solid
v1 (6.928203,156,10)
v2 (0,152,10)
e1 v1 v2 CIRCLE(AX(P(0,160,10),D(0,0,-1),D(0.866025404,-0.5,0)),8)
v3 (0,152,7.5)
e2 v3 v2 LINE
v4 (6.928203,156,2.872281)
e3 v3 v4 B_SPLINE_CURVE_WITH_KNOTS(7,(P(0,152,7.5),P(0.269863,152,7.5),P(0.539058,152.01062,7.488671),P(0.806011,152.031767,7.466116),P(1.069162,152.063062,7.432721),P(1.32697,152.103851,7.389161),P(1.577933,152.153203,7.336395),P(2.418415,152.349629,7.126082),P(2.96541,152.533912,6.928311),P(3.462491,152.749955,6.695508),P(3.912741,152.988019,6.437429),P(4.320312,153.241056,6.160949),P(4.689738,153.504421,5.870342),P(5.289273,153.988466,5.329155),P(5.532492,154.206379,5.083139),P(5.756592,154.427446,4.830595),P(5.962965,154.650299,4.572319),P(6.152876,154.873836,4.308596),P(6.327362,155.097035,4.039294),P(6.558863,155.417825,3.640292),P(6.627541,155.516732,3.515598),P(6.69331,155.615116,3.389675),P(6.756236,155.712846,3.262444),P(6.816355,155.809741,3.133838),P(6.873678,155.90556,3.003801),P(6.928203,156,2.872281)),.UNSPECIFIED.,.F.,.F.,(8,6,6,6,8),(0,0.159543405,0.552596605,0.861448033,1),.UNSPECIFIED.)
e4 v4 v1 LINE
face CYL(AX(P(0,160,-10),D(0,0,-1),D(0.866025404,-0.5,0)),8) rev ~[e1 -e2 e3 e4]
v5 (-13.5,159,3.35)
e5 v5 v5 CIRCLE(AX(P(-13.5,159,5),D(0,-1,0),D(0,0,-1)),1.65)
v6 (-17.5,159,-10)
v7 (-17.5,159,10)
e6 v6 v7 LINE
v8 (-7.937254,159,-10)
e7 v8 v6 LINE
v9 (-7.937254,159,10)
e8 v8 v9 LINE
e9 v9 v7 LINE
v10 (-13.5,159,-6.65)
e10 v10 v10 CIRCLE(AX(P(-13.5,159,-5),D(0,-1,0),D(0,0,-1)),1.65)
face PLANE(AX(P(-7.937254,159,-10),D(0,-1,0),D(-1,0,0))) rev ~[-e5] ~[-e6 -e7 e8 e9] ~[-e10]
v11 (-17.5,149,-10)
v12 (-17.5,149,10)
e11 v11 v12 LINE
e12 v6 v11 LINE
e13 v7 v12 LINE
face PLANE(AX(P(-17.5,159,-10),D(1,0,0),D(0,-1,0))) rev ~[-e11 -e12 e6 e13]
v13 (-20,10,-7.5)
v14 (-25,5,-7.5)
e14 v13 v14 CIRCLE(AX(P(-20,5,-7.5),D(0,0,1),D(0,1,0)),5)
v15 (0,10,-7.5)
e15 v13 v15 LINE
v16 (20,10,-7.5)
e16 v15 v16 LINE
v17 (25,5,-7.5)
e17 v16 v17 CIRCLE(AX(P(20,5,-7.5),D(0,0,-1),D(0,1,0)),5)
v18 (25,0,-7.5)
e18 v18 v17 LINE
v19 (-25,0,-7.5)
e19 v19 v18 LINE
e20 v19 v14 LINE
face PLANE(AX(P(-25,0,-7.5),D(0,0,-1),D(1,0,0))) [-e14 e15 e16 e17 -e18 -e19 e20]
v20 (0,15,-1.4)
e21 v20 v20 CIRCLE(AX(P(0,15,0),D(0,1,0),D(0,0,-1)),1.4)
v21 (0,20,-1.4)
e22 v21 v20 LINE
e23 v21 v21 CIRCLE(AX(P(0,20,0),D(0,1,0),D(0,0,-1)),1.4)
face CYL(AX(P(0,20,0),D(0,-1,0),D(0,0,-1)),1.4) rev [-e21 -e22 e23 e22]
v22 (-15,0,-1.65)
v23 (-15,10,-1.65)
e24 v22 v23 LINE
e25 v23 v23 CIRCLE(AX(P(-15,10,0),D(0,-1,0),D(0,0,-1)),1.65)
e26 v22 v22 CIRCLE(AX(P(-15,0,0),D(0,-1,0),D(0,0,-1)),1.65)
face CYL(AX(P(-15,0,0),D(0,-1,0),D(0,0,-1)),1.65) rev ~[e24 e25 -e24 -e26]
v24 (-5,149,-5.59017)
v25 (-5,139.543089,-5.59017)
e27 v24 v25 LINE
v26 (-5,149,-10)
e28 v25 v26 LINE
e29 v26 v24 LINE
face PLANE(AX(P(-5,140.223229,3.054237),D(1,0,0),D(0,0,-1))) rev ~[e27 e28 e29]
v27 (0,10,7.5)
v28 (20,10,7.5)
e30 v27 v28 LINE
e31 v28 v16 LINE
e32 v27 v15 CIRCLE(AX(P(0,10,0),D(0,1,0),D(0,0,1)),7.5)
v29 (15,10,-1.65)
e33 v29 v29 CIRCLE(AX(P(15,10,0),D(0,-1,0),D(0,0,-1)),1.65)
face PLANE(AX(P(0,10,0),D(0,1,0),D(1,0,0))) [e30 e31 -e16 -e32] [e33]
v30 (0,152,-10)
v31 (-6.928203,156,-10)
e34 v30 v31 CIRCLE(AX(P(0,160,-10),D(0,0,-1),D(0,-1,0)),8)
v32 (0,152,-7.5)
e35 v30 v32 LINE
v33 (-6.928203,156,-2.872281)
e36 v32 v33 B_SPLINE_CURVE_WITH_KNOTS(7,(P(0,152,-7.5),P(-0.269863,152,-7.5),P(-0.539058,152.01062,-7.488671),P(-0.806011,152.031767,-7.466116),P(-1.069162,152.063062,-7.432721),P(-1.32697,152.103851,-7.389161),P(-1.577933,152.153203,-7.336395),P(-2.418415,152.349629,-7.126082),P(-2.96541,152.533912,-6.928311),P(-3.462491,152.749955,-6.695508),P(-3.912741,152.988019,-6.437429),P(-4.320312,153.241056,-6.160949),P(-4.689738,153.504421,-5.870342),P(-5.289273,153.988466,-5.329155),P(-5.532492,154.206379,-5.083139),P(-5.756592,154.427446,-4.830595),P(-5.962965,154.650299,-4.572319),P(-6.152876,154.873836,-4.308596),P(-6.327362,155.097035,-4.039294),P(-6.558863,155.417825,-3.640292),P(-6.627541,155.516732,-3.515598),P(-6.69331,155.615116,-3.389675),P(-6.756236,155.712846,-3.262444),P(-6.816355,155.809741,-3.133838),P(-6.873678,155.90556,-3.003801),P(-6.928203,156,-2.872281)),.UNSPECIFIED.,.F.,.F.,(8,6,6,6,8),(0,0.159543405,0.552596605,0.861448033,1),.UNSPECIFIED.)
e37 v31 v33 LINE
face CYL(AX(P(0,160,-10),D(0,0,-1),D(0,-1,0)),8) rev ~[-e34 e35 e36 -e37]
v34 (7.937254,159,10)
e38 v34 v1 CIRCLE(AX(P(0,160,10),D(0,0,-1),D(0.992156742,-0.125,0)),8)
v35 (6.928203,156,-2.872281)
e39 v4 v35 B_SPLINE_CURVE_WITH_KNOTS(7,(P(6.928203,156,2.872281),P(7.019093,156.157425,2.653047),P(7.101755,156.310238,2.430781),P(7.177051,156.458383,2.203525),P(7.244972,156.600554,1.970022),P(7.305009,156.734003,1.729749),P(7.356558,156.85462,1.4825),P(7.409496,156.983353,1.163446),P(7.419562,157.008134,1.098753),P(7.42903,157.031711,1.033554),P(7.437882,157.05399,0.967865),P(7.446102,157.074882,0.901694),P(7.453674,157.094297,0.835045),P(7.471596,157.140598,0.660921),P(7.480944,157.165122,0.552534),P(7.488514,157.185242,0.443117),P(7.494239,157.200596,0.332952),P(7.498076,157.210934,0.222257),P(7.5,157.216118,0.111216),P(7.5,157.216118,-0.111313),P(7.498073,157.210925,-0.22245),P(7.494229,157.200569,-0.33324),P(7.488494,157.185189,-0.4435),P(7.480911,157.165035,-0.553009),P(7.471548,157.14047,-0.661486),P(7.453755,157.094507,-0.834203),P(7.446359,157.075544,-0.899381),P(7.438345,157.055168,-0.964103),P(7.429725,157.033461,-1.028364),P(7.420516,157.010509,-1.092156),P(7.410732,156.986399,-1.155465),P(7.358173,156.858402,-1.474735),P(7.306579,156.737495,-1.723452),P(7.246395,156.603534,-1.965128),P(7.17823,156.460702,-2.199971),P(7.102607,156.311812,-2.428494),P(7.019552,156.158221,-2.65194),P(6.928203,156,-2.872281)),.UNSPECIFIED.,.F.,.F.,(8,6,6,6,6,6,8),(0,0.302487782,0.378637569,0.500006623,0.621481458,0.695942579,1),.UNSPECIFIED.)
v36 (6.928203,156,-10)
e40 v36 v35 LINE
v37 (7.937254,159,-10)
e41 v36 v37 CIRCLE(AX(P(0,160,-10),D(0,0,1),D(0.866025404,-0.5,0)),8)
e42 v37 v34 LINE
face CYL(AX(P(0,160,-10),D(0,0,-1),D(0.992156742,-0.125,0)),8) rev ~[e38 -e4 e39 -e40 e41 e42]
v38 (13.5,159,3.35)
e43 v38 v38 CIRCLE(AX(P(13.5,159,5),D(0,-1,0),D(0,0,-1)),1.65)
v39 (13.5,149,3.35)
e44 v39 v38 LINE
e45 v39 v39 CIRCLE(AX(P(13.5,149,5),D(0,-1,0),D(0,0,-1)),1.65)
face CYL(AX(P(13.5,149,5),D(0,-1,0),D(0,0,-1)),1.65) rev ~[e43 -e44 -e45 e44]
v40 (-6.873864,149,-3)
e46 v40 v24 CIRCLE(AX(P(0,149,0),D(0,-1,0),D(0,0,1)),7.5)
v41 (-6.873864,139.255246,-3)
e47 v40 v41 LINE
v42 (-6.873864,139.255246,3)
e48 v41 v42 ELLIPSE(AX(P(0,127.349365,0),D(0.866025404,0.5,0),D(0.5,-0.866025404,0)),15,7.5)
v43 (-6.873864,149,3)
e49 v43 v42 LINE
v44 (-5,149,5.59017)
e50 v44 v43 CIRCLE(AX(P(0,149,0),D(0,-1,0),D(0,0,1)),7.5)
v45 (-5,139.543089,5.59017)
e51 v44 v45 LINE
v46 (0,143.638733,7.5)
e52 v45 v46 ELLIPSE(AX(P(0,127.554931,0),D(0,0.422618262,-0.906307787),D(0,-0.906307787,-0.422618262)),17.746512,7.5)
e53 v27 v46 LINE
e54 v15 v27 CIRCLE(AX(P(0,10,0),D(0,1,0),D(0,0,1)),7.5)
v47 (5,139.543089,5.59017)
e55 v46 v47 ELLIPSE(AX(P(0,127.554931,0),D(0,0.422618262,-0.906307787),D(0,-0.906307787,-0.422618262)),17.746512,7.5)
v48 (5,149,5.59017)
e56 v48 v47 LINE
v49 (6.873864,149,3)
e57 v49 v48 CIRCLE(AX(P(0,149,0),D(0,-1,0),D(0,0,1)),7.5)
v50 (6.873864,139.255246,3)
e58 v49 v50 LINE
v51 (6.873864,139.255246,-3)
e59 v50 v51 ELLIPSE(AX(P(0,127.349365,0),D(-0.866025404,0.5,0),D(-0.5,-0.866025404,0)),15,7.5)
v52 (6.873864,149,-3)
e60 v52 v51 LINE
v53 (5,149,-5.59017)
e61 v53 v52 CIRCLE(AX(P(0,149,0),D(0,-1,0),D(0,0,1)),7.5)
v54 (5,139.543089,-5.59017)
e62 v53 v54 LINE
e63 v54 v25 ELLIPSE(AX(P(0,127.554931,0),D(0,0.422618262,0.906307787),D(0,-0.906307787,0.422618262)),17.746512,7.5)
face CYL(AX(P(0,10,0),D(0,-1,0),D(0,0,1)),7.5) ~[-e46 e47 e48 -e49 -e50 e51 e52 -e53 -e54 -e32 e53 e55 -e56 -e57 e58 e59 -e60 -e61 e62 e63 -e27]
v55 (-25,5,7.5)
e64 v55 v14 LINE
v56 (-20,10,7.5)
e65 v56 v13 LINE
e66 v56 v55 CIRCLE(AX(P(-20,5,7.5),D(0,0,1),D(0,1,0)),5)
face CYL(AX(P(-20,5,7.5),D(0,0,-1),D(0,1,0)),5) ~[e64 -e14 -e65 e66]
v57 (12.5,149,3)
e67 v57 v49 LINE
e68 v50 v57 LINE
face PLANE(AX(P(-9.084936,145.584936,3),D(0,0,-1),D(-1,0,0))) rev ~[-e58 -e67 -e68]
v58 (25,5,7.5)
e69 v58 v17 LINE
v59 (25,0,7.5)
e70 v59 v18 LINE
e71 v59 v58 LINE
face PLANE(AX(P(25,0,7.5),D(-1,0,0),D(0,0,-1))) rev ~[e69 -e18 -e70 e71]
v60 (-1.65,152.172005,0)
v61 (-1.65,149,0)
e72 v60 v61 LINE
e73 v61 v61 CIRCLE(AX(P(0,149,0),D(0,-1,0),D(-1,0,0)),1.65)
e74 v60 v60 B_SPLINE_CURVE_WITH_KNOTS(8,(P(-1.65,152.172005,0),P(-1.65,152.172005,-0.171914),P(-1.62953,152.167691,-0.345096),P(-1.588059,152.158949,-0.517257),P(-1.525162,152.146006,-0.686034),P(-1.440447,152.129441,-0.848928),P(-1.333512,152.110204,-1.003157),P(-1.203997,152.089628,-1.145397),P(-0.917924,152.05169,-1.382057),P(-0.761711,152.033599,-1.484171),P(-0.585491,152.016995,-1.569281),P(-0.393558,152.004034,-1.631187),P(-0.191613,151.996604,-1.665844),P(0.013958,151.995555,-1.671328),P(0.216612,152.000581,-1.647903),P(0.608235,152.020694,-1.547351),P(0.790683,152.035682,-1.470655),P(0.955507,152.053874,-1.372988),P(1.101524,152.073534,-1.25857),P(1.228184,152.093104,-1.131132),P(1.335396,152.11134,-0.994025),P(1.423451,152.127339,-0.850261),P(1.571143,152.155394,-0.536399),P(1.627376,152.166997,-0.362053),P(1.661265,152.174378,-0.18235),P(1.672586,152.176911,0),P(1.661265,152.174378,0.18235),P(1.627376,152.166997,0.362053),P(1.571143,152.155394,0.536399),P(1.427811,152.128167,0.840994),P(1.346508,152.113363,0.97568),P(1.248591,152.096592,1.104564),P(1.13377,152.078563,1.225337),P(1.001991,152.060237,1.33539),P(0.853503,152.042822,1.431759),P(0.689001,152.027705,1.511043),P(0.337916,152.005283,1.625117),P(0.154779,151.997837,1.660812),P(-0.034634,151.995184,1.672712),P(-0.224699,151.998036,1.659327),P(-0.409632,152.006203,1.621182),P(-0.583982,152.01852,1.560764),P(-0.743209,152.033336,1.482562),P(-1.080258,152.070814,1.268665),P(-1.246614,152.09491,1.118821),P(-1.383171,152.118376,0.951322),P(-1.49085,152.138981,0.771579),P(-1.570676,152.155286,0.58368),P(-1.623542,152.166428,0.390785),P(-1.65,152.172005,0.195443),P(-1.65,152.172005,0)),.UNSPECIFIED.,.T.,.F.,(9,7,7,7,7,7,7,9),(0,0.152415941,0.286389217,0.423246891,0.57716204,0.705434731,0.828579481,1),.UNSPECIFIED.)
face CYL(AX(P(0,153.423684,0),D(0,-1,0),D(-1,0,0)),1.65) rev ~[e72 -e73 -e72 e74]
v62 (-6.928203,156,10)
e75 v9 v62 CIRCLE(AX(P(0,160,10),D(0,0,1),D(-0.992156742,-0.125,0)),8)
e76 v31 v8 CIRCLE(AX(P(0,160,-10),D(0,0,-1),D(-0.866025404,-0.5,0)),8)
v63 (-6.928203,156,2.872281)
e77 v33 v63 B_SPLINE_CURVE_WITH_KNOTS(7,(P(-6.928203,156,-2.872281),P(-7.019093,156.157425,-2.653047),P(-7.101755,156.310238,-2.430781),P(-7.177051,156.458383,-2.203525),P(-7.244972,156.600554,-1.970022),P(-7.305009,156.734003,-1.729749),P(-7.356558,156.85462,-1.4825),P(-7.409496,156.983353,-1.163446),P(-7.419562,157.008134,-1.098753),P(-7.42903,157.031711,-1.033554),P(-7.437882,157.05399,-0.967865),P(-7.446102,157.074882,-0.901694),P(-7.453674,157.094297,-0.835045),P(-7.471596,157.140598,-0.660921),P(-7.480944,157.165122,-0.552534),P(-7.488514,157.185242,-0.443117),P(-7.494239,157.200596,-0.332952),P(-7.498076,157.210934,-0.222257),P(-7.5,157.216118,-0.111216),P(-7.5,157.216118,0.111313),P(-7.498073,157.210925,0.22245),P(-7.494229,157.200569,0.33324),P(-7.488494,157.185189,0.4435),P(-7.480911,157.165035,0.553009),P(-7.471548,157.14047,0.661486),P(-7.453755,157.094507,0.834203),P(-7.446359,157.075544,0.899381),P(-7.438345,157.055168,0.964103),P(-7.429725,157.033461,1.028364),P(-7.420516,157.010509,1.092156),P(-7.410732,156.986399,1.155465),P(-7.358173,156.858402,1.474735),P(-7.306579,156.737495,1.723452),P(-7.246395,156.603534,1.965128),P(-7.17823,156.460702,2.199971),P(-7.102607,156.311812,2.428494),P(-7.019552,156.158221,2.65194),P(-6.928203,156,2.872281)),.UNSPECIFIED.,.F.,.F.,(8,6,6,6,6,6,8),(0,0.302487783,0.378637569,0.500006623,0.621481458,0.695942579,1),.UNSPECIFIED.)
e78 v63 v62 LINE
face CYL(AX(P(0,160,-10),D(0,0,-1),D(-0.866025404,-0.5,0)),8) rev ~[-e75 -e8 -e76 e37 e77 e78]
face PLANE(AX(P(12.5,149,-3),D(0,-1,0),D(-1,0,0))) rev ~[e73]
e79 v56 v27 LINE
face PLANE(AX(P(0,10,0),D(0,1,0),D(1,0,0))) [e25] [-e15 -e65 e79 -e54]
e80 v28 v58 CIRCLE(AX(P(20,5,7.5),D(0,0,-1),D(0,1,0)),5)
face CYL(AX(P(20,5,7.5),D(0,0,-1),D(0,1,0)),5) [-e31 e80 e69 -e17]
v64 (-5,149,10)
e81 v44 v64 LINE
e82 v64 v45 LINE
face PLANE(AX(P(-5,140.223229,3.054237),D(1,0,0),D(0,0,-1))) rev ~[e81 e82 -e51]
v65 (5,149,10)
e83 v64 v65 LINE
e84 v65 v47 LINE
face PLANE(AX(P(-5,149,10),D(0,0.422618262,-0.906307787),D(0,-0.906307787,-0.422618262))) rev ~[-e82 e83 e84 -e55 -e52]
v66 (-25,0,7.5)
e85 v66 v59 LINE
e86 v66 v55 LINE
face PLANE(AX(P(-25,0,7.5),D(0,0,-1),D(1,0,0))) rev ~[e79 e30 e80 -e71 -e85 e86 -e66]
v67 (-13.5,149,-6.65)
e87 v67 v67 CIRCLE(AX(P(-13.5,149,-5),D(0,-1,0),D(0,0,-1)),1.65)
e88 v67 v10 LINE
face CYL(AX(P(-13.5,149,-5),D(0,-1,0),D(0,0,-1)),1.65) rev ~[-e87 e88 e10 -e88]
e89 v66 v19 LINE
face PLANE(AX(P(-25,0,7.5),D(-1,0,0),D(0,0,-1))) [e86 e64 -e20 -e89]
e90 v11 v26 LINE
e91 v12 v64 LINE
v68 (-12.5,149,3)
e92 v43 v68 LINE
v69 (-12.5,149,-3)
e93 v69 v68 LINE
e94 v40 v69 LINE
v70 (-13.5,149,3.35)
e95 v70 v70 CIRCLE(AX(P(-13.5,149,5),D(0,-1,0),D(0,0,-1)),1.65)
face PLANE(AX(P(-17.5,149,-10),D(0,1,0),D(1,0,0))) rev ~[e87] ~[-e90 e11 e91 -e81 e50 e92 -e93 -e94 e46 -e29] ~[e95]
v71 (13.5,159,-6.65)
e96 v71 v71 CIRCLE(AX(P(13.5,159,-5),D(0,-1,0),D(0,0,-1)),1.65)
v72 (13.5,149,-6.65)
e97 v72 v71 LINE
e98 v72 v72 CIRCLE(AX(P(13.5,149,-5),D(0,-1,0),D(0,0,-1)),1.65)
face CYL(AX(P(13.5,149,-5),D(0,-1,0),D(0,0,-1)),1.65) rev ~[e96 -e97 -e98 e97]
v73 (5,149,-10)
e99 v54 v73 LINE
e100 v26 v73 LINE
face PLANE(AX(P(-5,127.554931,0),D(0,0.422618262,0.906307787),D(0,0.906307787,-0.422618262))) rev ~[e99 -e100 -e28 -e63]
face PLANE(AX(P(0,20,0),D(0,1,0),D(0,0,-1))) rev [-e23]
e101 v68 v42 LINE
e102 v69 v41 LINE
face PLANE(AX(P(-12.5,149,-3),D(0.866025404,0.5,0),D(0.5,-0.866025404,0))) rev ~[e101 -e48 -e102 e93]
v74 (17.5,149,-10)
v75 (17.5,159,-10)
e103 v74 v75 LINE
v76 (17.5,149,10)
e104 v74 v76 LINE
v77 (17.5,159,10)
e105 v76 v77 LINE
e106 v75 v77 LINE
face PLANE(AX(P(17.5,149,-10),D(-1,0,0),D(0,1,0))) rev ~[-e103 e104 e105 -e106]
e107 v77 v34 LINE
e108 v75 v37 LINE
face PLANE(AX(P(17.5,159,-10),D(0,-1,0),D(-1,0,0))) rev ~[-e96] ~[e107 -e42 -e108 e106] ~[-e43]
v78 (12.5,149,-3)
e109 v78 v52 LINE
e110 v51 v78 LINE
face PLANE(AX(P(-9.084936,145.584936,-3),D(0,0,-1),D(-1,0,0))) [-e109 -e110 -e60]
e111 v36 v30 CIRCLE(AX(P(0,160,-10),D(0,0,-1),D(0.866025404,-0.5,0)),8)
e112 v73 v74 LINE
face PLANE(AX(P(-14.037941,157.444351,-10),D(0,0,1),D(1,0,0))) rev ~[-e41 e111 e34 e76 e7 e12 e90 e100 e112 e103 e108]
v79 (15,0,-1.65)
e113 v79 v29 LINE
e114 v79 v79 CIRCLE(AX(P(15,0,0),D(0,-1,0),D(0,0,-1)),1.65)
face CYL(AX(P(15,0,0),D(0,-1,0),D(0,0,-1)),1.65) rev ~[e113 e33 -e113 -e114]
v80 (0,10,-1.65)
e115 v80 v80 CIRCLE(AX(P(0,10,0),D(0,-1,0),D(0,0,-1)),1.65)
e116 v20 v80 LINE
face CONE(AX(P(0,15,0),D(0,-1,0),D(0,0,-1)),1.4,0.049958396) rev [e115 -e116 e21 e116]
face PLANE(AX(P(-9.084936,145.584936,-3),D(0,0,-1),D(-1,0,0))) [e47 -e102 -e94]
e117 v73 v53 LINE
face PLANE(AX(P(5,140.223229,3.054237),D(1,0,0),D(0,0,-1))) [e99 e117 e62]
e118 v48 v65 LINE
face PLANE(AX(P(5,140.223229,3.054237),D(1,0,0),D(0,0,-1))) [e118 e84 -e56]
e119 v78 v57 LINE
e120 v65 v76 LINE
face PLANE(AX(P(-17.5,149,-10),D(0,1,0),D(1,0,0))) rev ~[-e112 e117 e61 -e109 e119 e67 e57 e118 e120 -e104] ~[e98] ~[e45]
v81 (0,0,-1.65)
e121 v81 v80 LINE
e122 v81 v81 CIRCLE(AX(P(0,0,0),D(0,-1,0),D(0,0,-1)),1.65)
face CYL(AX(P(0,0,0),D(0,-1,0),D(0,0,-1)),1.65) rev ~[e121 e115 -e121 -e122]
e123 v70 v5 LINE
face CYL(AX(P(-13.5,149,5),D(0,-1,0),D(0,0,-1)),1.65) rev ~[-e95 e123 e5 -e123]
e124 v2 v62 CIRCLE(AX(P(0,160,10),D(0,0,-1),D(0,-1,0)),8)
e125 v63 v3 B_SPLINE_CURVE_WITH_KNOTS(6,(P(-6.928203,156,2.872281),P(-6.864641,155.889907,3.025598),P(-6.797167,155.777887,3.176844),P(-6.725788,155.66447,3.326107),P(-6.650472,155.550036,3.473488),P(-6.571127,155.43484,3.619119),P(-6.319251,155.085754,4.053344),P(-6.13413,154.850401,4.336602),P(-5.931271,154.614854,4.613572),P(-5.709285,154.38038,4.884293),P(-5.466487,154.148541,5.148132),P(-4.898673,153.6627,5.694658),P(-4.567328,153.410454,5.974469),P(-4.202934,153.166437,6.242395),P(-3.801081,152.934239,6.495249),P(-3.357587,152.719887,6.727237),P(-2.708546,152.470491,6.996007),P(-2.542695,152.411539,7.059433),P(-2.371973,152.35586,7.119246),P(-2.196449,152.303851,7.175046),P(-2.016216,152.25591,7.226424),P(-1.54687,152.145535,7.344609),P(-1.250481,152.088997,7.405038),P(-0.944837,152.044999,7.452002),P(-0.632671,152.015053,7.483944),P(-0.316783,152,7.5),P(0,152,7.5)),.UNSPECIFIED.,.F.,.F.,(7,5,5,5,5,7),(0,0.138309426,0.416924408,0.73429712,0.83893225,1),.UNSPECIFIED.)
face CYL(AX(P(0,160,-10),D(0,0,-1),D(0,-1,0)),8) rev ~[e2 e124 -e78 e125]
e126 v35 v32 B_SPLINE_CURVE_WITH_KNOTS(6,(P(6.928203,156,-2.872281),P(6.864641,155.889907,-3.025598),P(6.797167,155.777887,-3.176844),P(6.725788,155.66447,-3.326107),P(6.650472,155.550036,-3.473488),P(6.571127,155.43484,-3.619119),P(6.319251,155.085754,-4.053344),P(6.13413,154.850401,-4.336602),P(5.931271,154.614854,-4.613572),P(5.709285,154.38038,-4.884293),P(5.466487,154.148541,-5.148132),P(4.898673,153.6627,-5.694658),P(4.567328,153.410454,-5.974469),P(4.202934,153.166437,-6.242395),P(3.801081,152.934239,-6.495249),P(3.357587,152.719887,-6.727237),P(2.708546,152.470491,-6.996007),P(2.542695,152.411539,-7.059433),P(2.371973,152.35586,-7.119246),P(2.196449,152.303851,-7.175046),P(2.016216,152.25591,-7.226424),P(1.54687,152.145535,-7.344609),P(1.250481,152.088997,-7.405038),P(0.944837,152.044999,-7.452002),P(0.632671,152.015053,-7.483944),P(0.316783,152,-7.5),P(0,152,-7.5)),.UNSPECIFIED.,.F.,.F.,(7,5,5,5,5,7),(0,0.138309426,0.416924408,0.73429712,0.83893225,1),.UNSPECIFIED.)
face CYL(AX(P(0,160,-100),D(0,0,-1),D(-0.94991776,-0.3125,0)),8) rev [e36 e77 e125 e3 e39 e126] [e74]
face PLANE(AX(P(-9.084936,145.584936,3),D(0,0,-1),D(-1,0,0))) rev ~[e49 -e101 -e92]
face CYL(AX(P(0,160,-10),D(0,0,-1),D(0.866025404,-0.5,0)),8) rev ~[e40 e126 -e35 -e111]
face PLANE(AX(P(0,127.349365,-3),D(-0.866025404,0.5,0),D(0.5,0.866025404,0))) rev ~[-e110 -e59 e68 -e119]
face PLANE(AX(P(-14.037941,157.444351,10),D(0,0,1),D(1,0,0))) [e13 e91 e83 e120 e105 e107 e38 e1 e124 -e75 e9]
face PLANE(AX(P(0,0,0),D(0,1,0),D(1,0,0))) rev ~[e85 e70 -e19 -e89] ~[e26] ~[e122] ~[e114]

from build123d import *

# Parameters (mm, degrees)
SKETCH_1_W               = 50
SKETCH_1_H               = 15
EXTRUDE_1_DEPTH          = 10
SKETCH_2_R               = 7.5
EXTRUDE_2_DEPTH          = 150
EXTRUDE_3_DEPTH          = 10
EXTRUDE_3_DEPTH_BACK     = 10
CUT_EXTRUDE_2_DEPTH      = 100
CUT_EXTRUDE_2_DEPTH_BACK = 100
SKETCH_5_R               = 1.65
CUT_EXTRUDE_3_DEPTH      = 10
FILLET_1_R               = 5
SKETCH_7_R               = 1.65
CUT_EXTRUDE_4_DEPTH      = 10
EXTRUDE_6_DEPTH          = 3
EXTRUDE_6_DEPTH_BACK     = 3
EXTRUDE_7_DEPTH          = 5
EXTRUDE_7_DEPTH_BACK     = 5


with BuildPart() as part:
    # 草图1 → 凸台-拉伸1 (new body)
    with BuildSketch(Plane(origin=(0, 0, 0), x_dir=(1, 0, 0), z_dir=(0, 1, 0))):
        Rectangle(SKETCH_1_W, SKETCH_1_H)
    extrude(amount=EXTRUDE_1_DEPTH)

    # 草图2 → 凸台-拉伸2 (add)
    with BuildSketch(Plane(origin=(0, 10, 0), x_dir=(1, 0, 0), z_dir=(0, 1, 0))):
        with Locations(Location((0, 0, 0), (0, 0, 270))):
            Circle(SKETCH_2_R)
    extrude(amount=EXTRUDE_2_DEPTH)

    # 草图3 → 凸台-拉伸3 (add, two sides: drawn at the far end of the back side and taken through both)
    with BuildSketch(Plane.XY.offset(-EXTRUDE_3_DEPTH_BACK)):
        with BuildLine():
            ThreePointArc((-10.246950766, 156), (-10.706300052, 157.4750962), (-10.95445115, 159))
            Line((-10.95445115, 159), (-17.5, 159))
            Line((-17.5, 159), (-17.5, 156))
            Line((-17.5, 156), (-10.246950766, 156))
        make_face()
        with BuildLine():
            ThreePointArc((-6.92820323, 156), (-7.582575695, 157.449598888), (-7.937253933, 159))
            Line((-7.937253933, 159), (-10.95445115, 159))
            ThreePointArc((-10.95445115, 159), (-10.706300052, 157.4750962), (-10.246950766, 156))
            Line((-10.246950766, 156), (-6.92820323, 156))
        make_face()
        with BuildLine():
            Line((10.95445115, 159), (7.937253933, 159))
            ThreePointArc((7.937253933, 159), (7.582575695, 157.449598888), (6.92820323, 156))
            Line((6.92820323, 156), (10.246950766, 156))
            ThreePointArc((10.246950766, 156), (10.706300052, 157.4750962), (10.95445115, 159))
        make_face()
        with BuildLine():
            ThreePointArc((6.92820323, 156), (4, 153.07179677), (0, 152))
            Line((0, 152), (0, 149))
            ThreePointArc((0, 149), (6.204836823, 150.917048938), (10.246950766, 156))
            Line((10.246950766, 156), (6.92820323, 156))
        make_face()
        with BuildLine():
            Line((0, 149), (0, 152))
            ThreePointArc((0, 152), (-4, 153.07179677), (-6.92820323, 156))
            Line((-6.92820323, 156), (-10.246950766, 156))
            ThreePointArc((-10.246950766, 156), (-6.204836823, 150.917048938), (0, 149))
        make_face()
        with BuildLine():
            Line((17.5, 159), (10.95445115, 159))
            ThreePointArc((10.95445115, 159), (10.706300052, 157.4750962), (10.246950766, 156))
            Line((10.246950766, 156), (17.5, 156))
            Line((17.5, 156), (17.5, 159))
        make_face()
        with BuildLine():
            Line((-17.5, 149), (0, 149))
            ThreePointArc((0, 149), (-6.204836823, 150.917048938), (-10.246950766, 156))
            Line((-10.246950766, 156), (-17.5, 156))
            Line((-17.5, 156), (-17.5, 149))
        make_face()
        with BuildLine():
            ThreePointArc((10.246950766, 156), (6.204836823, 150.917048938), (0, 149))
            Line((0, 149), (17.5, 149))
            Line((17.5, 149), (17.5, 156))
            Line((17.5, 156), (10.246950766, 156))
        make_face()
    extrude(amount=EXTRUDE_3_DEPTH + EXTRUDE_3_DEPTH_BACK)

    # 草图4 → 切除-拉伸2 (cut, two sides: drawn at the far end of the back side and taken through both)
    with BuildSketch(Plane.XY.offset(-CUT_EXTRUDE_2_DEPTH_BACK)):
        with BuildLine():
            Line((8, 160), (-8, 160))
            ThreePointArc((-8, 160), (-7.899200485, 158.734049095), (-7.599342077, 157.5))
            Line((-7.599342077, 157.5), (7.599342077, 157.5))
            ThreePointArc((7.599342077, 157.5), (7.899200485, 158.734049095), (8, 160))
        make_face()
        with BuildLine():
            Line((7.599342077, 157.5), (-7.599342077, 157.5))
            ThreePointArc((-7.599342077, 157.5), (0, 152), (7.599342077, 157.5))
        make_face()
    extrude(amount=CUT_EXTRUDE_2_DEPTH + CUT_EXTRUDE_2_DEPTH_BACK, mode=Mode.SUBTRACT)

    # 草图5 → 切除-拉伸3 (cut)
    with BuildSketch(Plane.XZ):
        with Locations(Location((0, 0, 0), (0, 0, 270))):
            Circle(SKETCH_5_R)
        with Locations(Location((-15, 0, 0), (0, 0, 270))):
            Circle(SKETCH_5_R)
        with Locations(Location((15, 0, 0), (0, 0, 270))):
            Circle(SKETCH_5_R)
    extrude(amount=-CUT_EXTRUDE_3_DEPTH, mode=Mode.SUBTRACT)

    # 草图6 → 切除-旋转1 (revolve, cut)
    with BuildSketch(Plane.XY, mode=Mode.PRIVATE) as cut_revolve_1_sk:
        Polygon((0, 10), (0, 20), (1.4, 20), (1.4, 15), (1.65, 10), align=None)
    revolve(cut_revolve_1_sk.sketch.rotate(Axis((0, 10, 0), (0, 1, 0)), 90), axis=Axis((0, 10, 0), (0, 1, 0)), mode=Mode.SUBTRACT)

    # 圆角1
    fillet_1_edges = [part.edges().sort_by_distance(p)[0] for p in [
        (-25, 10, 0),
        (25, 10, 0),
    ]]
    fillet(fillet_1_edges, radius=FILLET_1_R)

    # 草图9 → 切除-旋转2 (revolve, cut)
    with BuildSketch(Plane.XY, mode=Mode.PRIVATE) as cut_revolve_2_sk:
        Polygon((0, 152), (0, 153.423684137), (1.65, 153.423684137), (1.65, 149), (1.4, 144.61976638), (0, 144.61976638), (0, 149), align=None)
    revolve(cut_revolve_2_sk.sketch.rotate(Axis((0, 152, 0), (0, -1, 0)), 180), axis=Axis((0, 152, 0), (0, -1, 0)), mode=Mode.SUBTRACT)

    # 草图7 → 切除-拉伸4 (cut)
    with BuildSketch(Plane.XZ.offset(-149)):
        with Locations(Location((-13.5, 5, 0), (0, 0, 270))):
            Circle(SKETCH_7_R)
        with Locations(Location((-13.5, -5, 0), (0, 0, 270))):
            Circle(SKETCH_7_R)
        with Locations(Location((13.5, 5, 0), (0, 0, 270))):
            Circle(SKETCH_7_R)
        with Locations(Location((13.5, -5, 0), (0, 0, 270))):
            Circle(SKETCH_7_R)
    extrude(amount=-CUT_EXTRUDE_4_DEPTH, mode=Mode.SUBTRACT)

    # 草图10 → 凸台-拉伸6 (add, two sides: drawn at the far end of the back side and taken through both)
    with BuildSketch(Plane.XY.offset(-EXTRUDE_6_DEPTH_BACK)):
        Polygon((-12.5, 149), (-7.5, 149), (-7.5, 140.339745962), align=None)
        Polygon((0, 127.349364905), (0, 149), (-7.5, 149), (-7.5, 140.339745962), align=None)
        Polygon((7.5, 140.339745962), (7.5, 149), (0, 149), (0, 127.349364905), align=None)
        Polygon((7.5, 140.339745962), (12.5, 149), (7.5, 149), align=None)
    extrude(amount=EXTRUDE_6_DEPTH + EXTRUDE_6_DEPTH_BACK)

    # 草图11 → 凸台-拉伸7 (add, two sides: drawn at the far end of the back side and taken through both)
    with BuildSketch(Plane(origin=(0, 0, 0), x_dir=(0, 0, -1), z_dir=(1, 0, 0)).offset(-EXTRUDE_7_DEPTH_BACK)):
        Polygon((0, 149), (-10, 149), (0, 127.554930795), align=None)
        Polygon((10, 149), (0, 149), (0, 127.554930795), align=None)
    extrude(amount=EXTRUDE_7_DEPTH + EXTRUDE_7_DEPTH_BACK)


solid = part.part
